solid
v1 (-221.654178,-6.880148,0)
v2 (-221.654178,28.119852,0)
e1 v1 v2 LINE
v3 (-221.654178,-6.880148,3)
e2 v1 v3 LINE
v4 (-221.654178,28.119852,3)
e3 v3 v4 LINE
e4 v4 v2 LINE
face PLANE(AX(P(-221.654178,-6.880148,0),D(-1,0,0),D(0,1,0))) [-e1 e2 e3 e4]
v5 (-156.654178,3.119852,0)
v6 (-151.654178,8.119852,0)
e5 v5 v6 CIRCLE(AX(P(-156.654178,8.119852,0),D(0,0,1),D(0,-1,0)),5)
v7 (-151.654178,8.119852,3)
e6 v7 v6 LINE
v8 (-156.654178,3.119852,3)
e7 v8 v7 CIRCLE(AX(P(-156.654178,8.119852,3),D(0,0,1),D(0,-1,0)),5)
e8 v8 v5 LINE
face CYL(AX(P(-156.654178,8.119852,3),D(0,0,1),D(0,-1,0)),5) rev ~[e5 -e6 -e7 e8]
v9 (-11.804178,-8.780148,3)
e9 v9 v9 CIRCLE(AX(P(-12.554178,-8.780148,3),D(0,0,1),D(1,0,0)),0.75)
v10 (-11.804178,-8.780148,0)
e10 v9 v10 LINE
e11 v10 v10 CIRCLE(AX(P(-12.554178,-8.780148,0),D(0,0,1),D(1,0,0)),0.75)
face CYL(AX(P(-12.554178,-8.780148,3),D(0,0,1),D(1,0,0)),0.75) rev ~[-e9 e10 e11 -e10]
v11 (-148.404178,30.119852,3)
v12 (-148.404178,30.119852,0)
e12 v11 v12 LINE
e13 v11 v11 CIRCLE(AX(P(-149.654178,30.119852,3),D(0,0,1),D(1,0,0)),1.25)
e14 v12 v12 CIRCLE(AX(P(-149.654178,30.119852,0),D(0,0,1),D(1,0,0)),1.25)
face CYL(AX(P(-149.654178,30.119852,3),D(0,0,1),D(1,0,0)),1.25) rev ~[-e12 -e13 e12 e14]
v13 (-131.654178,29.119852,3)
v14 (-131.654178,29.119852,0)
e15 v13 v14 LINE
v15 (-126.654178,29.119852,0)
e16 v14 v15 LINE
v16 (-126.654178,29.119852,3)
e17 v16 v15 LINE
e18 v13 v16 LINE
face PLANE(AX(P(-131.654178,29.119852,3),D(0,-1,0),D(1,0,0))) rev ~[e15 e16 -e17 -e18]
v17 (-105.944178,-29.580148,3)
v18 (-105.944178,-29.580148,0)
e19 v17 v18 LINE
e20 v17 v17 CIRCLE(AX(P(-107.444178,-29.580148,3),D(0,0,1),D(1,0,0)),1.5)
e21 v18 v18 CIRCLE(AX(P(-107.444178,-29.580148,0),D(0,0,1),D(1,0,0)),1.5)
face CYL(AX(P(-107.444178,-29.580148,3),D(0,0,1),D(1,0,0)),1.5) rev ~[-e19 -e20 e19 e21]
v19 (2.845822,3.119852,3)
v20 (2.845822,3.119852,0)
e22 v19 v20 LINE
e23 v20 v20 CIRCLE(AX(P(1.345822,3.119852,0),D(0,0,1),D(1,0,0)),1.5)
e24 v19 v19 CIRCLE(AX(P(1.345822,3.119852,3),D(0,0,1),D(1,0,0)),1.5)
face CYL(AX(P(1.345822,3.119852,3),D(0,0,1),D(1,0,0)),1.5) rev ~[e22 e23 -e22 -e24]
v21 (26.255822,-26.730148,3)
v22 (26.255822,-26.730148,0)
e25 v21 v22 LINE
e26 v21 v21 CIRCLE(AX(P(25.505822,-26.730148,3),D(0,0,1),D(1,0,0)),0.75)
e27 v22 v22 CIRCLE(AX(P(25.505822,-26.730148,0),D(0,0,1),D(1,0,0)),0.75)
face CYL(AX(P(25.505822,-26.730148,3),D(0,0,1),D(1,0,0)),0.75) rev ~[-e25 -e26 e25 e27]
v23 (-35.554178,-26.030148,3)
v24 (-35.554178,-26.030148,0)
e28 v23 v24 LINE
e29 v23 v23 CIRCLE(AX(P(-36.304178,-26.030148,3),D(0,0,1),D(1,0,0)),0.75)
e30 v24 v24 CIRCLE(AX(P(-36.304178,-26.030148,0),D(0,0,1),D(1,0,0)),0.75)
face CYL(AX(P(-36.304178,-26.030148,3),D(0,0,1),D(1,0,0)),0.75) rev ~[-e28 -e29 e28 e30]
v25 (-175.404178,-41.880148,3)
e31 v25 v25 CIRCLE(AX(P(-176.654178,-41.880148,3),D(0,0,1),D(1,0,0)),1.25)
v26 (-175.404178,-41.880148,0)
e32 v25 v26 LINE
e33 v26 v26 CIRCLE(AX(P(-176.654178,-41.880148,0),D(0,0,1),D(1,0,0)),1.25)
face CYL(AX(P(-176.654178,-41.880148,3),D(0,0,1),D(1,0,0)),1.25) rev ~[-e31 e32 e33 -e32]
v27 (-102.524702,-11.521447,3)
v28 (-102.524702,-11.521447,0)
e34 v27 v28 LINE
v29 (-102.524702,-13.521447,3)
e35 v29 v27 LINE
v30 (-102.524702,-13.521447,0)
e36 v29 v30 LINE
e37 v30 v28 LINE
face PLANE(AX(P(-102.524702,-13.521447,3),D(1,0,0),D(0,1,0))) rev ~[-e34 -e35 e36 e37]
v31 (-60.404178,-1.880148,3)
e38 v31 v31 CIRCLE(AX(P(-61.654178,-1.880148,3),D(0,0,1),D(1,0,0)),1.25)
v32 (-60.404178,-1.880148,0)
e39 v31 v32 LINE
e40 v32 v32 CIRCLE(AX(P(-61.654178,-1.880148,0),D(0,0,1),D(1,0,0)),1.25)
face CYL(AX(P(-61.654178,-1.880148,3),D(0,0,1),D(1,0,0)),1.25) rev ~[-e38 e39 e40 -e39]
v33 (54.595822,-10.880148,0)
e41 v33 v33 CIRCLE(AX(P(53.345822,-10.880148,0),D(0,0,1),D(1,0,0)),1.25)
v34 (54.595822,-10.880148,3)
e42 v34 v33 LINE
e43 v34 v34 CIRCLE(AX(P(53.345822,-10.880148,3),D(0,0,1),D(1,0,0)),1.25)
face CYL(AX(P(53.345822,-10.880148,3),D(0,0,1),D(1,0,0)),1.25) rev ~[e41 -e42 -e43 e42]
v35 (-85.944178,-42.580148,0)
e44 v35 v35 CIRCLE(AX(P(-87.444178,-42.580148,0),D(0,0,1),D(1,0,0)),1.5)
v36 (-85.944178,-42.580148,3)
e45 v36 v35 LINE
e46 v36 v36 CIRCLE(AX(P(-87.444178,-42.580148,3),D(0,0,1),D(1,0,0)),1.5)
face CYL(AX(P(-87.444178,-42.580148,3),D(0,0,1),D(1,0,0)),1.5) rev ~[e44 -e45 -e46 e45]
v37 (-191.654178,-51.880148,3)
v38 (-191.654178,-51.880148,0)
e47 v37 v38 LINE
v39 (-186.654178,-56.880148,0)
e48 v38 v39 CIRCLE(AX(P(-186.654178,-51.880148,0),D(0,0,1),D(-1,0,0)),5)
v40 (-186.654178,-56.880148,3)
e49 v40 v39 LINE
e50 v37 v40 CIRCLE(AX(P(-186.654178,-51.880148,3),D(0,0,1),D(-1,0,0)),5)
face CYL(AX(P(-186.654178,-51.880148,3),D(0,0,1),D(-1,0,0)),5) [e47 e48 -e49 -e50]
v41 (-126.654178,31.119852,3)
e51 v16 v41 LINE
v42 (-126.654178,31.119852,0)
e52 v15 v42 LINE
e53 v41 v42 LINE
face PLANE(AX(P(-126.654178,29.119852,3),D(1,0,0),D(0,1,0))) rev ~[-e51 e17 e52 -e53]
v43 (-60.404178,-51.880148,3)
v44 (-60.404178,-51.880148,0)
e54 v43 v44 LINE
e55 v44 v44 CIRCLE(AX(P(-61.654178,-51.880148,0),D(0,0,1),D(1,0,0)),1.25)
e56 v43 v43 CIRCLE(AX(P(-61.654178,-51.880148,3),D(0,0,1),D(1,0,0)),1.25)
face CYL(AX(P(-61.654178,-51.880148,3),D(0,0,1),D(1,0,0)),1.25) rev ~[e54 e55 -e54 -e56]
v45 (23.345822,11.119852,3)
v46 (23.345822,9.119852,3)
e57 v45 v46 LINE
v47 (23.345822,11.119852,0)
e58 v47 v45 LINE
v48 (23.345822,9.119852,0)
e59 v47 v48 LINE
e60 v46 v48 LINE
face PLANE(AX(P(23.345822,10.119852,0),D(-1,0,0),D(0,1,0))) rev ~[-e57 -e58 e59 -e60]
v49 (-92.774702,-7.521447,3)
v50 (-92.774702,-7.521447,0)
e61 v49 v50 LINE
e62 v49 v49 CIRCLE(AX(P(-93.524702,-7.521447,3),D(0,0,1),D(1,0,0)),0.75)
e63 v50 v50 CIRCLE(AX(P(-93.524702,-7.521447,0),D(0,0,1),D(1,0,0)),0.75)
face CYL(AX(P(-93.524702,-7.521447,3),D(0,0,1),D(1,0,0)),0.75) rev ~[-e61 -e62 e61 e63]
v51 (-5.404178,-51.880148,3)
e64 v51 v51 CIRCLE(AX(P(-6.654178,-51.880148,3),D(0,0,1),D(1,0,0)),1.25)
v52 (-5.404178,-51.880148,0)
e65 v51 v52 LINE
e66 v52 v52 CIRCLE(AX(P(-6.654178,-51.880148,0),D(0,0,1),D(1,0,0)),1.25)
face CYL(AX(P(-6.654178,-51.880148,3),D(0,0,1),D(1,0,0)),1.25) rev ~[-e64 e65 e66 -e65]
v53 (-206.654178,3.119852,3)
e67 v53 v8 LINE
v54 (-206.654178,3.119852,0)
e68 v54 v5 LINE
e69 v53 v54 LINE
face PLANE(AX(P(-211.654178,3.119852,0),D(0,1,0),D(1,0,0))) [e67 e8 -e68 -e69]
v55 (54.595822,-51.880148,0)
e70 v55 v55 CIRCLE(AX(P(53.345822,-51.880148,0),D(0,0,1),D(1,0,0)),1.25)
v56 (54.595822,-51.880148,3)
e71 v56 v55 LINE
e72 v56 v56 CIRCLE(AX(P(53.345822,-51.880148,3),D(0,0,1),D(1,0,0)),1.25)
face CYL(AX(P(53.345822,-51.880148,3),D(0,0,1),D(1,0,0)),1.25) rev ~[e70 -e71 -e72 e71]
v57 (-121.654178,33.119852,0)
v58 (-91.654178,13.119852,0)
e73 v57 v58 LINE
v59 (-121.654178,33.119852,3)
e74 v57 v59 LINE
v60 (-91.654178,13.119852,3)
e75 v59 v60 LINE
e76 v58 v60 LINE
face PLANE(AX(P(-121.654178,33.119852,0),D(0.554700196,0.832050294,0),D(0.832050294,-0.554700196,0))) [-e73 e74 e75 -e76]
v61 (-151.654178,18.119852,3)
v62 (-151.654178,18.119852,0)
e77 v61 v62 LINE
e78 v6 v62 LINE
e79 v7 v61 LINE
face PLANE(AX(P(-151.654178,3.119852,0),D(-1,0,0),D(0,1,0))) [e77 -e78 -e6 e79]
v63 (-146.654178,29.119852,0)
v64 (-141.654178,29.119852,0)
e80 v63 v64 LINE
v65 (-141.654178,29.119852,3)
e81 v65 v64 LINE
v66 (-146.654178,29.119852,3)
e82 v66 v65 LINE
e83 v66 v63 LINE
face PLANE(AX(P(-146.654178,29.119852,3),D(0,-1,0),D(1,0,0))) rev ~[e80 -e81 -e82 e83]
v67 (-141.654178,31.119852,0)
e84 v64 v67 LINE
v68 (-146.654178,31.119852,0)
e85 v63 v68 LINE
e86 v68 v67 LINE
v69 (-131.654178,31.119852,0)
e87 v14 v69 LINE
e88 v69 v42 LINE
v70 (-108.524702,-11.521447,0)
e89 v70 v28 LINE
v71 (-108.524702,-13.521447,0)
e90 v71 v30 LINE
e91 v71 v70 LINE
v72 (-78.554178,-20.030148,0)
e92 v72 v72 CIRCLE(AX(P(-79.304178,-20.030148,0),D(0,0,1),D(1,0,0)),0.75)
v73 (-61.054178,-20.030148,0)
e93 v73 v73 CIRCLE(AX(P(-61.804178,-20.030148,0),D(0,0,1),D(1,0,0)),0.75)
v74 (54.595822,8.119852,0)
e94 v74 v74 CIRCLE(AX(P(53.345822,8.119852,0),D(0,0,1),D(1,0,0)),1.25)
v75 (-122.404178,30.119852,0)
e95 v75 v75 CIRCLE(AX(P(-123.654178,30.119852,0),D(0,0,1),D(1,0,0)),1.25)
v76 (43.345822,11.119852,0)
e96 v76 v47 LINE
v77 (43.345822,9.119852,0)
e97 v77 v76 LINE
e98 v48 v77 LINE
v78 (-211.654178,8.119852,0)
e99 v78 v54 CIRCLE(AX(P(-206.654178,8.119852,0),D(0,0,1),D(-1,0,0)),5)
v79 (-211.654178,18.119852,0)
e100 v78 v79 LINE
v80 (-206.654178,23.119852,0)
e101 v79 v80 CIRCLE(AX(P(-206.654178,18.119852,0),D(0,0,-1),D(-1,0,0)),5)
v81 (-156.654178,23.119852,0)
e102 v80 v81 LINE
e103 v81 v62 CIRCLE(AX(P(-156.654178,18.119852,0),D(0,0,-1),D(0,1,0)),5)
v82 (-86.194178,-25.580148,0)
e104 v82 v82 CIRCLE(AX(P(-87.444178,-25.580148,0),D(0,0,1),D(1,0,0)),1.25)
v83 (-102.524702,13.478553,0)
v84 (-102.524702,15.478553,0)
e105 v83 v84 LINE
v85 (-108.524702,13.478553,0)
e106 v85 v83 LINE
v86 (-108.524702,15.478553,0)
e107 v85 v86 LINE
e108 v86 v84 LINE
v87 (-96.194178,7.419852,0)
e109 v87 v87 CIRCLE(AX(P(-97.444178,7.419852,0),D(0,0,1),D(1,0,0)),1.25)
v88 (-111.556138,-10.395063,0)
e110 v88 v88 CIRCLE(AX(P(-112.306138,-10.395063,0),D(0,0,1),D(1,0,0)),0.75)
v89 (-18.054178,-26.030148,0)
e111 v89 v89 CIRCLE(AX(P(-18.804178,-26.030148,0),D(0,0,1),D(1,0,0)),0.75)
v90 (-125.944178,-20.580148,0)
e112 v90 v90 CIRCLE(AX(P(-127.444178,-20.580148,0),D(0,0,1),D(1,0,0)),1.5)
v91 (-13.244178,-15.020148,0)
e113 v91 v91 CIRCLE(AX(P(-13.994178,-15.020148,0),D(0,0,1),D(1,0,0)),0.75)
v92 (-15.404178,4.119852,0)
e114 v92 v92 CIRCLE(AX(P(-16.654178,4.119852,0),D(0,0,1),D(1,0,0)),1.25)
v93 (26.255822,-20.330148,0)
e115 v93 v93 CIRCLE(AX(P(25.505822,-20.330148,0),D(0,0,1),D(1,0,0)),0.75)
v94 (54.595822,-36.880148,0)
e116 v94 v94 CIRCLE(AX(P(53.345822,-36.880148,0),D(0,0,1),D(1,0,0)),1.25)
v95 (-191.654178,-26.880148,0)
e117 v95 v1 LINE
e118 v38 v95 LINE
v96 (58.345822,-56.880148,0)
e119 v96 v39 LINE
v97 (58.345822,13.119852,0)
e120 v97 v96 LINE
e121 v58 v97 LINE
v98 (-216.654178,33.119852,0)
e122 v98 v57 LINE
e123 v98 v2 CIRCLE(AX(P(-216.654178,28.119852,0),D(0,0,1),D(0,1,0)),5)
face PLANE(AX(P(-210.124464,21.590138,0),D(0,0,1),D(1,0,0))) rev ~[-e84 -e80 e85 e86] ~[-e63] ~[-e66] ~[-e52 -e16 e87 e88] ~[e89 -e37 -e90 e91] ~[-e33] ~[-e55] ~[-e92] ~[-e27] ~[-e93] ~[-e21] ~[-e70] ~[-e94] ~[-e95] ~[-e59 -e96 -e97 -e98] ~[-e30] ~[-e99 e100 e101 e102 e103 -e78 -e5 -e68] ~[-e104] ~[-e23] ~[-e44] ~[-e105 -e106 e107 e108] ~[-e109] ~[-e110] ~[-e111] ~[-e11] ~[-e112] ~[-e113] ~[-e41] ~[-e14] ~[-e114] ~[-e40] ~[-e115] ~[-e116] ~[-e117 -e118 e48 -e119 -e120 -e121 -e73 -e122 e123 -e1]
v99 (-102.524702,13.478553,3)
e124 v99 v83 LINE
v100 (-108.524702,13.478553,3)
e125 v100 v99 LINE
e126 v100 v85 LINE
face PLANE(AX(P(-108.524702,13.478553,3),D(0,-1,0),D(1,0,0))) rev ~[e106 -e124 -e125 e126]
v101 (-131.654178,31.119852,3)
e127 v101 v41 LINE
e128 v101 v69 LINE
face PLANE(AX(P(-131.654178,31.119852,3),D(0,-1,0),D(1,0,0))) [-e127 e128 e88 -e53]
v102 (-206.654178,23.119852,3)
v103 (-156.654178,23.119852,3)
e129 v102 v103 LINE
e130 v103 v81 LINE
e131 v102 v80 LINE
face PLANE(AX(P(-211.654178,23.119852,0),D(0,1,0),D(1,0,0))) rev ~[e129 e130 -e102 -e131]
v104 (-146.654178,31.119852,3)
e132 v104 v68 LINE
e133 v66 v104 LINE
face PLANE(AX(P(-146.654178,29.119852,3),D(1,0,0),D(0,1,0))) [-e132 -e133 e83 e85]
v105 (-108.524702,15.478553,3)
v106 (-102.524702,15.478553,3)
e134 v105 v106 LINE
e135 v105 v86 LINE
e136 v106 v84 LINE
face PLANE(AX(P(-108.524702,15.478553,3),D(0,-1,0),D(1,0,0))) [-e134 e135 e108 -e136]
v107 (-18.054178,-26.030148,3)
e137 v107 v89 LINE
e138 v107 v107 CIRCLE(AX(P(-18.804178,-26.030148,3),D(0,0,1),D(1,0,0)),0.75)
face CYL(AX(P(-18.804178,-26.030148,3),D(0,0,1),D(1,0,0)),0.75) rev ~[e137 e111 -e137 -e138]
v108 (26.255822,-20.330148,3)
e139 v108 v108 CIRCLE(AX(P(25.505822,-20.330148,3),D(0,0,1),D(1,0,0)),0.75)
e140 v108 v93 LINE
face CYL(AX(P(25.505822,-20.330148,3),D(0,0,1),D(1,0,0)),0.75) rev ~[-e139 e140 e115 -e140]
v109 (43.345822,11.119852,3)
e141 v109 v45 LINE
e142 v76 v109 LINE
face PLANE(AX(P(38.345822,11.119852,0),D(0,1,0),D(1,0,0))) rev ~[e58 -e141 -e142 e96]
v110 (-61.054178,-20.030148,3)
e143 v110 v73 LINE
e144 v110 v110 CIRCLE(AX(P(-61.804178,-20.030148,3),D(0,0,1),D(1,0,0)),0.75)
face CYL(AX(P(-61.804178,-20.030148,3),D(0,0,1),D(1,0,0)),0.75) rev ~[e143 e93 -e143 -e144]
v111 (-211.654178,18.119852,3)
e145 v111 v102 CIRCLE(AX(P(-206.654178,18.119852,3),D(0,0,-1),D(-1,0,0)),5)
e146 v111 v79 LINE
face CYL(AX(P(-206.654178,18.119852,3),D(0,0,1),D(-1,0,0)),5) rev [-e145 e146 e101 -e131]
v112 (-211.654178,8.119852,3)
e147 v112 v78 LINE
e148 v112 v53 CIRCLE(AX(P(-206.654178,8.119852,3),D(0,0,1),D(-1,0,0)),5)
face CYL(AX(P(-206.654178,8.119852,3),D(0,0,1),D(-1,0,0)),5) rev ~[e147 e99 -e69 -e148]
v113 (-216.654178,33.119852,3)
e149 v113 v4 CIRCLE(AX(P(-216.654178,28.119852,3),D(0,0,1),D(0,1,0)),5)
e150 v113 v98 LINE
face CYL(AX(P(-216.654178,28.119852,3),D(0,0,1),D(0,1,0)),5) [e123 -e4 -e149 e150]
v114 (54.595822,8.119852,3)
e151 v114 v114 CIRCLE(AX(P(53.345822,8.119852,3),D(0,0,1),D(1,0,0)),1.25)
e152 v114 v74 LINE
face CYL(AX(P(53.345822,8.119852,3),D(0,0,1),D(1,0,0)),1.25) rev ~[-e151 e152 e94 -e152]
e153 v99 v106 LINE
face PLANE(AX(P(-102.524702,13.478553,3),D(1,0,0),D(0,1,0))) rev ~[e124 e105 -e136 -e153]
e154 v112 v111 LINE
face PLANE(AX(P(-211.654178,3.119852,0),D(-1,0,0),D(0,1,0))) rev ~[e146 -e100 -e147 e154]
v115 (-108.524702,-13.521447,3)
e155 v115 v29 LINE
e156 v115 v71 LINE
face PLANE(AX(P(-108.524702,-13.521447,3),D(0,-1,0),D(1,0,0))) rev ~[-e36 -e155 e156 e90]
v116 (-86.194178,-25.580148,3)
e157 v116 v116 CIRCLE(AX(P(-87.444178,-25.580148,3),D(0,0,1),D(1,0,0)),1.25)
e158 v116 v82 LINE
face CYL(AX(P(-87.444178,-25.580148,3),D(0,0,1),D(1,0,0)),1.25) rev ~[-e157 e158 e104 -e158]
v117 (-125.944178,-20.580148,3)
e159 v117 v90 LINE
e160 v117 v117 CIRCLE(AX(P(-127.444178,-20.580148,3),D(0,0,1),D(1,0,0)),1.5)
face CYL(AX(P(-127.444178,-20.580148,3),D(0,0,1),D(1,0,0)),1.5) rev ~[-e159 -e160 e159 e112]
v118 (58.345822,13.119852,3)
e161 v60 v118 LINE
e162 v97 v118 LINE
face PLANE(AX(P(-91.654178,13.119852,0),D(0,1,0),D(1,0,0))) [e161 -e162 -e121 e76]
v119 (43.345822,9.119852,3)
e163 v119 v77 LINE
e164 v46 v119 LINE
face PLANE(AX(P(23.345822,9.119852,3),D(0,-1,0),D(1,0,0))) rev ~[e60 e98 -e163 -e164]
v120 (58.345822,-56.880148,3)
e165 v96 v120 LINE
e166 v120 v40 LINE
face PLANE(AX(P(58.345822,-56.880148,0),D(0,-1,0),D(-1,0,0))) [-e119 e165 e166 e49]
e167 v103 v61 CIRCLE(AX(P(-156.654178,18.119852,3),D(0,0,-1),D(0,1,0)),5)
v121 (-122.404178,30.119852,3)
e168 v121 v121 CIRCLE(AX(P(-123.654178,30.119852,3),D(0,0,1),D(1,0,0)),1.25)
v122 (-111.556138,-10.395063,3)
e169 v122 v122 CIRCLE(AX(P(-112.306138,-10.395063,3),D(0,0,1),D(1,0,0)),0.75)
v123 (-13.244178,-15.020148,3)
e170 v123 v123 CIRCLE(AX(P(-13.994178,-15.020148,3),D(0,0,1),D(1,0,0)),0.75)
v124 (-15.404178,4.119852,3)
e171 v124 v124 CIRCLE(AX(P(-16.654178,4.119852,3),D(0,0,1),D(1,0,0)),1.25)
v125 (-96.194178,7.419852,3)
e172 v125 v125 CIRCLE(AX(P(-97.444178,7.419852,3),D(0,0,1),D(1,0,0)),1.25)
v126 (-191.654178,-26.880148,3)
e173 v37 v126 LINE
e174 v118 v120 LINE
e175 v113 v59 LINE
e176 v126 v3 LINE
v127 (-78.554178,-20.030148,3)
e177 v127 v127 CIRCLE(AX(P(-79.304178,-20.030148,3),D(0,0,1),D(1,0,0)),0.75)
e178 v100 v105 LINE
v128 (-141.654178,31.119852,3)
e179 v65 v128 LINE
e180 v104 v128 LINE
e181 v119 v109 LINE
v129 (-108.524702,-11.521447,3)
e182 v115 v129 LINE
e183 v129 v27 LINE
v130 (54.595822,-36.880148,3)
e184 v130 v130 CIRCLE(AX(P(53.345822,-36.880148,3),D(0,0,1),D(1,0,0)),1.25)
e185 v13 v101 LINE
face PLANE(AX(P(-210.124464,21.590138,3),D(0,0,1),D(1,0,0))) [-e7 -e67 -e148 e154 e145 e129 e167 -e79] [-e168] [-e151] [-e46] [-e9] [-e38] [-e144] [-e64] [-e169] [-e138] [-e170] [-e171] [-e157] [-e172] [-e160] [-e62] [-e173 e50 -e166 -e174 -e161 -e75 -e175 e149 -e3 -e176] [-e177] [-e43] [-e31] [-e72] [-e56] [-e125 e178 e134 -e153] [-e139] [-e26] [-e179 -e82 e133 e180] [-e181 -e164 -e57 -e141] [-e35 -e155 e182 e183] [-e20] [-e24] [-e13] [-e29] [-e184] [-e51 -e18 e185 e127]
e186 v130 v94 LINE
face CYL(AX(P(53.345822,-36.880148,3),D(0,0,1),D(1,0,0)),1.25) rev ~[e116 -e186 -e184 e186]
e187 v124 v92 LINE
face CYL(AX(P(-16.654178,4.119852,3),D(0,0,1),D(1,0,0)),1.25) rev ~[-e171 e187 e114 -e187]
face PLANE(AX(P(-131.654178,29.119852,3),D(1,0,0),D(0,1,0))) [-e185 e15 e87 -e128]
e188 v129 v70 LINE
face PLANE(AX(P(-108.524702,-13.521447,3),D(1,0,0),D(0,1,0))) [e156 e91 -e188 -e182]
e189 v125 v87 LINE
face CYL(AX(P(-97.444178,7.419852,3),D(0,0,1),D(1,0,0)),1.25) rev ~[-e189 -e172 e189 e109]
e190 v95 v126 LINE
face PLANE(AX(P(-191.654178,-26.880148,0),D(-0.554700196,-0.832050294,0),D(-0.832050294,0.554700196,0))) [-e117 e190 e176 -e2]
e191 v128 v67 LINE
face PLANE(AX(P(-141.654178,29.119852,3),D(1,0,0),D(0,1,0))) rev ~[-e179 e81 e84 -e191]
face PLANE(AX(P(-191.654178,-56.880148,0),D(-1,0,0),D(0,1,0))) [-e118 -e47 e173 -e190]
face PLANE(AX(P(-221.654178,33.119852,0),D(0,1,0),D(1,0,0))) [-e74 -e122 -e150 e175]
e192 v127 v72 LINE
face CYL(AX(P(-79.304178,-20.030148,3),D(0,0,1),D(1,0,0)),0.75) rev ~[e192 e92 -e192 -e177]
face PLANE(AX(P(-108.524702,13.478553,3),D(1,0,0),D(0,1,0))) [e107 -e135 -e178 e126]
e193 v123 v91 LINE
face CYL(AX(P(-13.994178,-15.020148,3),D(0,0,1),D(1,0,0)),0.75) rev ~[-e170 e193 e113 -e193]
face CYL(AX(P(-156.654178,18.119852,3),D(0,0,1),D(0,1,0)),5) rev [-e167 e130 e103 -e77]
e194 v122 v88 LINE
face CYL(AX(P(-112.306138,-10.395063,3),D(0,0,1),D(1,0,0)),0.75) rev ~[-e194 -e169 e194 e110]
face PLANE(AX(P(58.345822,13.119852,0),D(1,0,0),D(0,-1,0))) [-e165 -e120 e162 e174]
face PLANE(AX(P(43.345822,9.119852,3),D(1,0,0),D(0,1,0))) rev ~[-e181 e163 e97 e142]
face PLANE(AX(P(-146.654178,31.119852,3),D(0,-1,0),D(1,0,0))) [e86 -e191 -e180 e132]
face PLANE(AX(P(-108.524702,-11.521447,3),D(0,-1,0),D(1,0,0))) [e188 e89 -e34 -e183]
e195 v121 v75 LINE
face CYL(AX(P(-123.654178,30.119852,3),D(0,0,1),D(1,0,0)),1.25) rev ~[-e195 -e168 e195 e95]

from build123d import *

# Parameters (mm, degrees)
SKETCH1_R           = 1.25
SKETCH1_R_2         = 0.75
SKETCH1_W           = 60
SKETCH1_H           = 20
SKETCH1_W_2         = 5
SKETCH1_H_2         = 1
BOSS_EXTRUDE2_DEPTH = 3
SKETCH4_R           = 0.75
CUT_EXTRUDE3_DEPTH  = 3
SKETCH5_R           = 0.75
CUT_EXTRUDE4_DEPTH  = 3
SKETCH14_R          = 0.75
CUT_EXTRUDE12_DEPTH = 10
BOSS_EXTRUDE4_START = -3
SKETCH15_R          = 0.75
BOSS_EXTRUDE4_DEPTH = 3
SKETCH20_R          = 1.25
CUT_EXTRUDE17_DEPTH = 3
SKETCH23_R          = 0.75
CUT_EXTRUDE21_DEPTH = 10
SKETCH25_W          = 10
SKETCH25_H          = 1
CUT_EXTRUDE23_DEPTH = 3
SKETCH26_R          = 1.25
CUT_EXTRUDE24_DEPTH = 3
SKETCH29_R          = 1.25
CUT_EXTRUDE27_DEPTH = 3
SKETCH33_W          = 5
SKETCH33_H          = 2
CUT_EXTRUDE31_DEPTH = 3
SKETCH34_W          = 5
SKETCH34_H          = 2
CUT_EXTRUDE32_DEPTH = 3
SKETCH35_R          = 1.25
CUT_EXTRUDE33_DEPTH = 3
SKETCH37_R          = 1.25
CUT_EXTRUDE34_DEPTH = 3
SKETCH38_R          = 1.25
CUT_EXTRUDE35_DEPTH = 3
SKETCH41_R          = 0.75
CUT_EXTRUDE38_DEPTH = 3
SKETCH42_W          = 6
SKETCH42_H          = 2
CUT_EXTRUDE40_DEPTH = 3
SKETCH43_W          = 6
SKETCH43_H          = 2
CUT_EXTRUDE41_DEPTH = 3
BOSS_EXTRUDE5_START = -3
SKETCH45_R          = 1.25
BOSS_EXTRUDE5_DEPTH = 3
BOSS_EXTRUDE6_START = -3
SKETCH46_R          = 1.25
BOSS_EXTRUDE6_DEPTH = 3
SKETCH47_R          = 1.25
CUT_EXTRUDE42_DEPTH = 3
SKETCH49_R          = 1.25
CUT_EXTRUDE43_DEPTH = 3
SKETCH51_R          = 1.25
CUT_EXTRUDE44_DEPTH = 3
SKETCH52_R          = 1.25
CUT_EXTRUDE45_DEPTH = 3
SKETCH53_R          = 1.25
CUT_EXTRUDE46_DEPTH = 3
SKETCH54_R          = 1.25
CUT_EXTRUDE47_DEPTH = 3
SKETCH55_W          = 20
SKETCH55_H          = 1
CUT_EXTRUDE48_DEPTH = 10
SKETCH56_R          = 0.75
CUT_EXTRUDE49_DEPTH = 10
SKETCH57_R          = 0.75
CUT_EXTRUDE50_DEPTH = 10
SKETCH59_R          = 1.5
CUT_EXTRUDE51_DEPTH = 10
SKETCH60_R          = 0.75
CUT_EXTRUDE52_DEPTH = 10
SKETCH61_R          = 0.75
CUT_EXTRUDE53_DEPTH = 10
SKETCH65_R          = 1.5
CUT_EXTRUDE55_DEPTH = 10
SKETCH66_R          = 1.5
CUT_EXTRUDE56_DEPTH = 10
SKETCH67_R          = 1.5
CUT_EXTRUDE57_DEPTH = 10
CUT_EXTRUDE58_DEPTH = 10
CUT_EXTRUDE59_DEPTH = 10
BOSS_EXTRUDE7_DEPTH = 3


with BuildPart() as part:
    # Sketch1 → Boss-Extrude2 (new body)
    with BuildSketch(Plane.XY):
        Polygon((58.345821786, 13.119852123), (58.345821786, -56.880147877), (-191.654178214, -56.880147877), (-191.654178214, -26.880147877), (-221.654178214, -6.880147877), (-221.654178214, 33.119852123), (-121.654178214, 33.119852123), (-91.654178214, 13.119852123), align=None)
        with Locations((53.345821786, 7.945541925)):
            Circle(SKETCH1_R, mode=Mode.SUBTRACT)
        with Locations((53.345821786, -52.054458075)):
            Circle(SKETCH1_R, mode=Mode.SUBTRACT)
        with Locations((25.505821786, -18.330147877)):
            Circle(SKETCH1_R_2, mode=Mode.SUBTRACT)
        with Locations((-181.654178214, 13.119852123)):
            Rectangle(SKETCH1_W, SKETCH1_H, mode=Mode.SUBTRACT)
        with Locations((25.845821786, 10.619852123)):
            Rectangle(SKETCH1_W_2, SKETCH1_H_2, mode=Mode.SUBTRACT)
        with Locations((40.845821786, 10.619852123)):
            Rectangle(SKETCH1_W_2, SKETCH1_H_2, mode=Mode.SUBTRACT)
    extrude(amount=BOSS_EXTRUDE2_DEPTH)

    # Sketch4 → Cut-Extrude3 (cut)
    with BuildSketch(Plane.XY.offset(3)):
        with Locations((-12.554178214, -8.780147877)):
            Circle(SKETCH4_R)
    extrude(amount=-CUT_EXTRUDE3_DEPTH, mode=Mode.SUBTRACT)

    # Sketch5 → Cut-Extrude4 (cut)
    with BuildSketch(Plane.XY.offset(3)):
        with Locations((-13.994178214, -15.020147877)):
            Circle(SKETCH5_R)
    extrude(amount=-CUT_EXTRUDE4_DEPTH, mode=Mode.SUBTRACT)

    # Sketch14 → Cut-Extrude12 (cut)
    with BuildSketch(Plane.XY.offset(3)):
        with Locations((25.505821786, -20.330147877)):
            Circle(SKETCH14_R)
        with Locations((25.505821786, -26.730147877)):
            Circle(SKETCH14_R)
    extrude(amount=-CUT_EXTRUDE12_DEPTH, mode=Mode.SUBTRACT)

    # Sketch15 → Boss-Extrude4 (add)
    with BuildSketch(Plane.XY.offset(3).offset(BOSS_EXTRUDE4_START)):
        with Locations((25.505821786, -18.330147877)):
            Circle(SKETCH15_R)
    extrude(amount=BOSS_EXTRUDE4_DEPTH)

    # Sketch20 → Cut-Extrude17 (cut)
    with BuildSketch(Plane.XY.offset(3)):
        with Locations((-16.654178214, 4.119852123)):
            Circle(SKETCH20_R)
    extrude(amount=-CUT_EXTRUDE17_DEPTH, mode=Mode.SUBTRACT)

    # Sketch23 → Cut-Extrude21 (cut)
    with BuildSketch(Plane.XY.offset(3)):
        with Locations((-93.524701832, -7.521447448)):
            Circle(SKETCH23_R)
    extrude(amount=-CUT_EXTRUDE21_DEPTH, mode=Mode.SUBTRACT)

    # Sketch25 → Cut-Extrude23 (cut)
    with BuildSketch(Plane.XY.offset(3)):
        with Locations((33.345821786, 10.619852123)):
            Rectangle(SKETCH25_W, SKETCH25_H)
    extrude(amount=-CUT_EXTRUDE23_DEPTH, mode=Mode.SUBTRACT)

    # Sketch26 → Cut-Extrude24 (cut)
    with BuildSketch(Plane.XY.offset(3)):
        with Locations((-97.444178214, 7.419852123)):
            Circle(SKETCH26_R)
    extrude(amount=-CUT_EXTRUDE24_DEPTH, mode=Mode.SUBTRACT)

    # Sketch29 → Cut-Extrude27 (cut)
    with BuildSketch(Plane.XY.offset(3)):
        with Locations((-176.654178214, -41.880147877)):
            Circle(SKETCH29_R)
    extrude(amount=-CUT_EXTRUDE27_DEPTH, mode=Mode.SUBTRACT)

    # Sketch33 → Cut-Extrude31 (cut)
    with BuildSketch(Plane.XY.offset(3)):
        with Locations((-129.154178214, 30.119852123)):
            Rectangle(SKETCH33_W, SKETCH33_H)
    extrude(amount=-CUT_EXTRUDE31_DEPTH, mode=Mode.SUBTRACT)

    # Sketch34 → Cut-Extrude32 (cut)
    with BuildSketch(Plane.XY.offset(3)):
        with Locations((-144.154178214, 30.119852123)):
            Rectangle(SKETCH34_W, SKETCH34_H)
    extrude(amount=-CUT_EXTRUDE32_DEPTH, mode=Mode.SUBTRACT)

    # Sketch35 → Cut-Extrude33 (cut)
    with BuildSketch(Plane.XY.offset(3)):
        with Locations((-123.654178214, 30.119852123)):
            Circle(SKETCH35_R)
        with Locations((-149.654178214, 30.119852123)):
            Circle(SKETCH35_R)
    extrude(amount=-CUT_EXTRUDE33_DEPTH, mode=Mode.SUBTRACT)

    # Sketch37 → Cut-Extrude34 (cut)
    with BuildSketch(Plane.XY.offset(3)):
        with Locations((-61.654178214, -1.880147877)):
            Circle(SKETCH37_R)
    extrude(amount=-CUT_EXTRUDE34_DEPTH, mode=Mode.SUBTRACT)

    # Sketch38 → Cut-Extrude35 (cut)
    with BuildSketch(Plane.XY.offset(3)):
        with Locations((-87.444178214, -25.580147877)):
            Circle(SKETCH38_R)
    extrude(amount=-CUT_EXTRUDE35_DEPTH, mode=Mode.SUBTRACT)

    # Sketch41 → Cut-Extrude38 (cut)
    with BuildSketch(Plane.XY.offset(3)):
        with Locations((-112.306137726, -10.395062897)):
            Circle(SKETCH41_R)
    extrude(amount=-CUT_EXTRUDE38_DEPTH, mode=Mode.SUBTRACT)

    # Sketch42 → Cut-Extrude40 (cut)
    with BuildSketch(Plane.XY.offset(3)):
        with Locations((-105.524701832, -12.521447448)):
            Rectangle(SKETCH42_W, SKETCH42_H)
    extrude(amount=-CUT_EXTRUDE40_DEPTH, mode=Mode.SUBTRACT)

    # Sketch43 → Cut-Extrude41 (cut)
    with BuildSketch(Plane.XY.offset(3)):
        with Locations((-105.524701832, 14.478552552)):
            Rectangle(SKETCH43_W, SKETCH43_H)
    extrude(amount=-CUT_EXTRUDE41_DEPTH, mode=Mode.SUBTRACT)

    # Sketch45 → Boss-Extrude5 (add)
    with BuildSketch(Plane.XY.offset(3).offset(BOSS_EXTRUDE5_START)):
        with Locations((53.345821786, -52.054458075)):
            Circle(SKETCH45_R)
    extrude(amount=BOSS_EXTRUDE5_DEPTH)

    # Sketch46 → Boss-Extrude6 (add)
    with BuildSketch(Plane.XY.offset(3).offset(BOSS_EXTRUDE6_START)):
        with Locations((53.345821786, 7.945541925)):
            Circle(SKETCH46_R)
    extrude(amount=BOSS_EXTRUDE6_DEPTH)

    # Sketch47 → Cut-Extrude42 (cut)
    with BuildSketch(Plane.XY.offset(3)):
        with Locations((53.345821786, 8.119852123)):
            Circle(SKETCH47_R)
    extrude(amount=-CUT_EXTRUDE42_DEPTH, mode=Mode.SUBTRACT)

    # Sketch49 → Cut-Extrude43 (cut)
    with BuildSketch(Plane.XY.offset(3)):
        with Locations((53.345821786, -10.880147877)):
            Circle(SKETCH49_R)
    extrude(amount=-CUT_EXTRUDE43_DEPTH, mode=Mode.SUBTRACT)

    # Sketch51 → Cut-Extrude44 (cut)
    with BuildSketch(Plane.XY.offset(3)):
        with Locations((53.345821786, -36.880147877)):
            Circle(SKETCH51_R)
    extrude(amount=-CUT_EXTRUDE44_DEPTH, mode=Mode.SUBTRACT)

    # Sketch52 → Cut-Extrude45 (cut)
    with BuildSketch(Plane.XY.offset(3)):
        with Locations((53.345821786, -51.880147877)):
            Circle(SKETCH52_R)
    extrude(amount=-CUT_EXTRUDE45_DEPTH, mode=Mode.SUBTRACT)

    # Sketch53 → Cut-Extrude46 (cut)
    with BuildSketch(Plane.XY.offset(3)):
        with Locations((-6.654178214, -51.880147877)):
            Circle(SKETCH53_R)
    extrude(amount=-CUT_EXTRUDE46_DEPTH, mode=Mode.SUBTRACT)

    # Sketch54 → Cut-Extrude47 (cut)
    with BuildSketch(Plane.XY.offset(3)):
        with Locations((-61.654178214, -51.880147877)):
            Circle(SKETCH54_R)
    extrude(amount=-CUT_EXTRUDE47_DEPTH, mode=Mode.SUBTRACT)

    # Sketch55 → Cut-Extrude48 (cut)
    with BuildSketch(Plane.XY.offset(3)):
        with Locations((33.345821786, 9.619852123)):
            Rectangle(SKETCH55_W, SKETCH55_H)
    extrude(amount=-CUT_EXTRUDE48_DEPTH, mode=Mode.SUBTRACT)

    # Sketch56 → Cut-Extrude49 (cut)
    with BuildSketch(Plane.XY.offset(3)):
        with Locations((-61.804178214, -20.030147877)):
            Circle(SKETCH56_R)
    extrude(amount=-CUT_EXTRUDE49_DEPTH, mode=Mode.SUBTRACT)

    # Sketch57 → Cut-Extrude50 (cut)
    with BuildSketch(Plane.XY.offset(3)):
        with Locations((-79.304178214, -20.030147877)):
            Circle(SKETCH57_R)
    extrude(amount=-CUT_EXTRUDE50_DEPTH, mode=Mode.SUBTRACT)

    # Sketch59 → Cut-Extrude51 (cut)
    with BuildSketch(Plane.XY.offset(3)):
        with Locations((-87.444178214, -42.580147877)):
            Circle(SKETCH59_R)
    extrude(amount=-CUT_EXTRUDE51_DEPTH, mode=Mode.SUBTRACT)

    # Sketch60 → Cut-Extrude52 (cut)
    with BuildSketch(Plane.XY.offset(3)):
        with Locations((-18.804178214, -26.030147877)):
            Circle(SKETCH60_R)
    extrude(amount=-CUT_EXTRUDE52_DEPTH, mode=Mode.SUBTRACT)

    # Sketch61 → Cut-Extrude53 (cut)
    with BuildSketch(Plane.XY.offset(3)):
        with Locations((-36.304178214, -26.030147877)):
            Circle(SKETCH61_R)
    extrude(amount=-CUT_EXTRUDE53_DEPTH, mode=Mode.SUBTRACT)

    # Sketch65 → Cut-Extrude55 (cut)
    with BuildSketch(Plane.XY.offset(3)):
        with Locations((1.345821786, 3.119852123)):
            Circle(SKETCH65_R)
    extrude(amount=-CUT_EXTRUDE55_DEPTH, mode=Mode.SUBTRACT)

    # Sketch66 → Cut-Extrude56 (cut)
    with BuildSketch(Plane.XY.offset(3)):
        with Locations((-107.444178214, -29.580147877)):
            Circle(SKETCH66_R)
    extrude(amount=-CUT_EXTRUDE56_DEPTH, mode=Mode.SUBTRACT)

    # Sketch67 → Cut-Extrude57 (cut)
    with BuildSketch(Plane.XY.offset(3)):
        with Locations((-127.444178214, -20.580147877)):
            Circle(SKETCH67_R)
    extrude(amount=-CUT_EXTRUDE57_DEPTH, mode=Mode.SUBTRACT)

    # Sketch68 → Cut-Extrude58 (cut)
    with BuildSketch(Plane.XY.offset(3)):
        with BuildLine():
            Line((-221.654178214, 33.119852123), (-216.654178214, 33.119852123))
            ThreePointArc((-216.654178214, 33.119852123), (-220.18971212, 31.655386029), (-221.654178214, 28.119852123))
            Line((-221.654178214, 28.119852123), (-221.654178214, 33.119852123))
        make_face()
    extrude(amount=-CUT_EXTRUDE58_DEPTH, mode=Mode.SUBTRACT)

    # Sketch69 → Cut-Extrude59 (cut)
    with BuildSketch(Plane.XY.offset(3)):
        with BuildLine():
            Line((-191.654178214, -56.880147877), (-191.654178214, -51.880147877))
            ThreePointArc((-191.654178214, -51.880147877), (-190.18971212, -55.415681783), (-186.654178214, -56.880147877))
            Line((-186.654178214, -56.880147877), (-191.654178214, -56.880147877))
        make_face()
    extrude(amount=-CUT_EXTRUDE59_DEPTH, mode=Mode.SUBTRACT)

    # Sketch72 → Boss-Extrude7 (add)
    with BuildSketch(Plane.XY.offset(3)):
        with BuildLine():
            Line((-211.654178214, 23.119852123), (-211.654178214, 18.119852123))
            ThreePointArc((-211.654178214, 18.119852123), (-210.18971212, 21.655386029), (-206.654178214, 23.119852123))
            Line((-206.654178214, 23.119852123), (-211.654178214, 23.119852123))
        make_face()
        with BuildLine():
            Line((-211.654178214, 3.119852123), (-211.654178214, 8.119852123))
            ThreePointArc((-211.654178214, 8.119852123), (-210.18971212, 4.584318217), (-206.654178214, 3.119852123))
            Line((-206.654178214, 3.119852123), (-211.654178214, 3.119852123))
        make_face()
        with BuildLine():
            Line((-151.654178214, 23.119852123), (-156.654178214, 23.119852123))
            ThreePointArc((-156.654178214, 23.119852123), (-153.118644308, 21.655386029), (-151.654178214, 18.119852123))
            Line((-151.654178214, 18.119852123), (-151.654178214, 23.119852123))
        make_face()
        with BuildLine():
            Line((-151.654178214, 3.119852123), (-156.654178214, 3.119852123))
            ThreePointArc((-156.654178214, 3.119852123), (-153.118644308, 4.584318217), (-151.654178214, 8.119852123))
            Line((-151.654178214, 8.119852123), (-151.654178214, 3.119852123))
        make_face()
    extrude(amount=-BOSS_EXTRUDE7_DEPTH)


solid = part.part
